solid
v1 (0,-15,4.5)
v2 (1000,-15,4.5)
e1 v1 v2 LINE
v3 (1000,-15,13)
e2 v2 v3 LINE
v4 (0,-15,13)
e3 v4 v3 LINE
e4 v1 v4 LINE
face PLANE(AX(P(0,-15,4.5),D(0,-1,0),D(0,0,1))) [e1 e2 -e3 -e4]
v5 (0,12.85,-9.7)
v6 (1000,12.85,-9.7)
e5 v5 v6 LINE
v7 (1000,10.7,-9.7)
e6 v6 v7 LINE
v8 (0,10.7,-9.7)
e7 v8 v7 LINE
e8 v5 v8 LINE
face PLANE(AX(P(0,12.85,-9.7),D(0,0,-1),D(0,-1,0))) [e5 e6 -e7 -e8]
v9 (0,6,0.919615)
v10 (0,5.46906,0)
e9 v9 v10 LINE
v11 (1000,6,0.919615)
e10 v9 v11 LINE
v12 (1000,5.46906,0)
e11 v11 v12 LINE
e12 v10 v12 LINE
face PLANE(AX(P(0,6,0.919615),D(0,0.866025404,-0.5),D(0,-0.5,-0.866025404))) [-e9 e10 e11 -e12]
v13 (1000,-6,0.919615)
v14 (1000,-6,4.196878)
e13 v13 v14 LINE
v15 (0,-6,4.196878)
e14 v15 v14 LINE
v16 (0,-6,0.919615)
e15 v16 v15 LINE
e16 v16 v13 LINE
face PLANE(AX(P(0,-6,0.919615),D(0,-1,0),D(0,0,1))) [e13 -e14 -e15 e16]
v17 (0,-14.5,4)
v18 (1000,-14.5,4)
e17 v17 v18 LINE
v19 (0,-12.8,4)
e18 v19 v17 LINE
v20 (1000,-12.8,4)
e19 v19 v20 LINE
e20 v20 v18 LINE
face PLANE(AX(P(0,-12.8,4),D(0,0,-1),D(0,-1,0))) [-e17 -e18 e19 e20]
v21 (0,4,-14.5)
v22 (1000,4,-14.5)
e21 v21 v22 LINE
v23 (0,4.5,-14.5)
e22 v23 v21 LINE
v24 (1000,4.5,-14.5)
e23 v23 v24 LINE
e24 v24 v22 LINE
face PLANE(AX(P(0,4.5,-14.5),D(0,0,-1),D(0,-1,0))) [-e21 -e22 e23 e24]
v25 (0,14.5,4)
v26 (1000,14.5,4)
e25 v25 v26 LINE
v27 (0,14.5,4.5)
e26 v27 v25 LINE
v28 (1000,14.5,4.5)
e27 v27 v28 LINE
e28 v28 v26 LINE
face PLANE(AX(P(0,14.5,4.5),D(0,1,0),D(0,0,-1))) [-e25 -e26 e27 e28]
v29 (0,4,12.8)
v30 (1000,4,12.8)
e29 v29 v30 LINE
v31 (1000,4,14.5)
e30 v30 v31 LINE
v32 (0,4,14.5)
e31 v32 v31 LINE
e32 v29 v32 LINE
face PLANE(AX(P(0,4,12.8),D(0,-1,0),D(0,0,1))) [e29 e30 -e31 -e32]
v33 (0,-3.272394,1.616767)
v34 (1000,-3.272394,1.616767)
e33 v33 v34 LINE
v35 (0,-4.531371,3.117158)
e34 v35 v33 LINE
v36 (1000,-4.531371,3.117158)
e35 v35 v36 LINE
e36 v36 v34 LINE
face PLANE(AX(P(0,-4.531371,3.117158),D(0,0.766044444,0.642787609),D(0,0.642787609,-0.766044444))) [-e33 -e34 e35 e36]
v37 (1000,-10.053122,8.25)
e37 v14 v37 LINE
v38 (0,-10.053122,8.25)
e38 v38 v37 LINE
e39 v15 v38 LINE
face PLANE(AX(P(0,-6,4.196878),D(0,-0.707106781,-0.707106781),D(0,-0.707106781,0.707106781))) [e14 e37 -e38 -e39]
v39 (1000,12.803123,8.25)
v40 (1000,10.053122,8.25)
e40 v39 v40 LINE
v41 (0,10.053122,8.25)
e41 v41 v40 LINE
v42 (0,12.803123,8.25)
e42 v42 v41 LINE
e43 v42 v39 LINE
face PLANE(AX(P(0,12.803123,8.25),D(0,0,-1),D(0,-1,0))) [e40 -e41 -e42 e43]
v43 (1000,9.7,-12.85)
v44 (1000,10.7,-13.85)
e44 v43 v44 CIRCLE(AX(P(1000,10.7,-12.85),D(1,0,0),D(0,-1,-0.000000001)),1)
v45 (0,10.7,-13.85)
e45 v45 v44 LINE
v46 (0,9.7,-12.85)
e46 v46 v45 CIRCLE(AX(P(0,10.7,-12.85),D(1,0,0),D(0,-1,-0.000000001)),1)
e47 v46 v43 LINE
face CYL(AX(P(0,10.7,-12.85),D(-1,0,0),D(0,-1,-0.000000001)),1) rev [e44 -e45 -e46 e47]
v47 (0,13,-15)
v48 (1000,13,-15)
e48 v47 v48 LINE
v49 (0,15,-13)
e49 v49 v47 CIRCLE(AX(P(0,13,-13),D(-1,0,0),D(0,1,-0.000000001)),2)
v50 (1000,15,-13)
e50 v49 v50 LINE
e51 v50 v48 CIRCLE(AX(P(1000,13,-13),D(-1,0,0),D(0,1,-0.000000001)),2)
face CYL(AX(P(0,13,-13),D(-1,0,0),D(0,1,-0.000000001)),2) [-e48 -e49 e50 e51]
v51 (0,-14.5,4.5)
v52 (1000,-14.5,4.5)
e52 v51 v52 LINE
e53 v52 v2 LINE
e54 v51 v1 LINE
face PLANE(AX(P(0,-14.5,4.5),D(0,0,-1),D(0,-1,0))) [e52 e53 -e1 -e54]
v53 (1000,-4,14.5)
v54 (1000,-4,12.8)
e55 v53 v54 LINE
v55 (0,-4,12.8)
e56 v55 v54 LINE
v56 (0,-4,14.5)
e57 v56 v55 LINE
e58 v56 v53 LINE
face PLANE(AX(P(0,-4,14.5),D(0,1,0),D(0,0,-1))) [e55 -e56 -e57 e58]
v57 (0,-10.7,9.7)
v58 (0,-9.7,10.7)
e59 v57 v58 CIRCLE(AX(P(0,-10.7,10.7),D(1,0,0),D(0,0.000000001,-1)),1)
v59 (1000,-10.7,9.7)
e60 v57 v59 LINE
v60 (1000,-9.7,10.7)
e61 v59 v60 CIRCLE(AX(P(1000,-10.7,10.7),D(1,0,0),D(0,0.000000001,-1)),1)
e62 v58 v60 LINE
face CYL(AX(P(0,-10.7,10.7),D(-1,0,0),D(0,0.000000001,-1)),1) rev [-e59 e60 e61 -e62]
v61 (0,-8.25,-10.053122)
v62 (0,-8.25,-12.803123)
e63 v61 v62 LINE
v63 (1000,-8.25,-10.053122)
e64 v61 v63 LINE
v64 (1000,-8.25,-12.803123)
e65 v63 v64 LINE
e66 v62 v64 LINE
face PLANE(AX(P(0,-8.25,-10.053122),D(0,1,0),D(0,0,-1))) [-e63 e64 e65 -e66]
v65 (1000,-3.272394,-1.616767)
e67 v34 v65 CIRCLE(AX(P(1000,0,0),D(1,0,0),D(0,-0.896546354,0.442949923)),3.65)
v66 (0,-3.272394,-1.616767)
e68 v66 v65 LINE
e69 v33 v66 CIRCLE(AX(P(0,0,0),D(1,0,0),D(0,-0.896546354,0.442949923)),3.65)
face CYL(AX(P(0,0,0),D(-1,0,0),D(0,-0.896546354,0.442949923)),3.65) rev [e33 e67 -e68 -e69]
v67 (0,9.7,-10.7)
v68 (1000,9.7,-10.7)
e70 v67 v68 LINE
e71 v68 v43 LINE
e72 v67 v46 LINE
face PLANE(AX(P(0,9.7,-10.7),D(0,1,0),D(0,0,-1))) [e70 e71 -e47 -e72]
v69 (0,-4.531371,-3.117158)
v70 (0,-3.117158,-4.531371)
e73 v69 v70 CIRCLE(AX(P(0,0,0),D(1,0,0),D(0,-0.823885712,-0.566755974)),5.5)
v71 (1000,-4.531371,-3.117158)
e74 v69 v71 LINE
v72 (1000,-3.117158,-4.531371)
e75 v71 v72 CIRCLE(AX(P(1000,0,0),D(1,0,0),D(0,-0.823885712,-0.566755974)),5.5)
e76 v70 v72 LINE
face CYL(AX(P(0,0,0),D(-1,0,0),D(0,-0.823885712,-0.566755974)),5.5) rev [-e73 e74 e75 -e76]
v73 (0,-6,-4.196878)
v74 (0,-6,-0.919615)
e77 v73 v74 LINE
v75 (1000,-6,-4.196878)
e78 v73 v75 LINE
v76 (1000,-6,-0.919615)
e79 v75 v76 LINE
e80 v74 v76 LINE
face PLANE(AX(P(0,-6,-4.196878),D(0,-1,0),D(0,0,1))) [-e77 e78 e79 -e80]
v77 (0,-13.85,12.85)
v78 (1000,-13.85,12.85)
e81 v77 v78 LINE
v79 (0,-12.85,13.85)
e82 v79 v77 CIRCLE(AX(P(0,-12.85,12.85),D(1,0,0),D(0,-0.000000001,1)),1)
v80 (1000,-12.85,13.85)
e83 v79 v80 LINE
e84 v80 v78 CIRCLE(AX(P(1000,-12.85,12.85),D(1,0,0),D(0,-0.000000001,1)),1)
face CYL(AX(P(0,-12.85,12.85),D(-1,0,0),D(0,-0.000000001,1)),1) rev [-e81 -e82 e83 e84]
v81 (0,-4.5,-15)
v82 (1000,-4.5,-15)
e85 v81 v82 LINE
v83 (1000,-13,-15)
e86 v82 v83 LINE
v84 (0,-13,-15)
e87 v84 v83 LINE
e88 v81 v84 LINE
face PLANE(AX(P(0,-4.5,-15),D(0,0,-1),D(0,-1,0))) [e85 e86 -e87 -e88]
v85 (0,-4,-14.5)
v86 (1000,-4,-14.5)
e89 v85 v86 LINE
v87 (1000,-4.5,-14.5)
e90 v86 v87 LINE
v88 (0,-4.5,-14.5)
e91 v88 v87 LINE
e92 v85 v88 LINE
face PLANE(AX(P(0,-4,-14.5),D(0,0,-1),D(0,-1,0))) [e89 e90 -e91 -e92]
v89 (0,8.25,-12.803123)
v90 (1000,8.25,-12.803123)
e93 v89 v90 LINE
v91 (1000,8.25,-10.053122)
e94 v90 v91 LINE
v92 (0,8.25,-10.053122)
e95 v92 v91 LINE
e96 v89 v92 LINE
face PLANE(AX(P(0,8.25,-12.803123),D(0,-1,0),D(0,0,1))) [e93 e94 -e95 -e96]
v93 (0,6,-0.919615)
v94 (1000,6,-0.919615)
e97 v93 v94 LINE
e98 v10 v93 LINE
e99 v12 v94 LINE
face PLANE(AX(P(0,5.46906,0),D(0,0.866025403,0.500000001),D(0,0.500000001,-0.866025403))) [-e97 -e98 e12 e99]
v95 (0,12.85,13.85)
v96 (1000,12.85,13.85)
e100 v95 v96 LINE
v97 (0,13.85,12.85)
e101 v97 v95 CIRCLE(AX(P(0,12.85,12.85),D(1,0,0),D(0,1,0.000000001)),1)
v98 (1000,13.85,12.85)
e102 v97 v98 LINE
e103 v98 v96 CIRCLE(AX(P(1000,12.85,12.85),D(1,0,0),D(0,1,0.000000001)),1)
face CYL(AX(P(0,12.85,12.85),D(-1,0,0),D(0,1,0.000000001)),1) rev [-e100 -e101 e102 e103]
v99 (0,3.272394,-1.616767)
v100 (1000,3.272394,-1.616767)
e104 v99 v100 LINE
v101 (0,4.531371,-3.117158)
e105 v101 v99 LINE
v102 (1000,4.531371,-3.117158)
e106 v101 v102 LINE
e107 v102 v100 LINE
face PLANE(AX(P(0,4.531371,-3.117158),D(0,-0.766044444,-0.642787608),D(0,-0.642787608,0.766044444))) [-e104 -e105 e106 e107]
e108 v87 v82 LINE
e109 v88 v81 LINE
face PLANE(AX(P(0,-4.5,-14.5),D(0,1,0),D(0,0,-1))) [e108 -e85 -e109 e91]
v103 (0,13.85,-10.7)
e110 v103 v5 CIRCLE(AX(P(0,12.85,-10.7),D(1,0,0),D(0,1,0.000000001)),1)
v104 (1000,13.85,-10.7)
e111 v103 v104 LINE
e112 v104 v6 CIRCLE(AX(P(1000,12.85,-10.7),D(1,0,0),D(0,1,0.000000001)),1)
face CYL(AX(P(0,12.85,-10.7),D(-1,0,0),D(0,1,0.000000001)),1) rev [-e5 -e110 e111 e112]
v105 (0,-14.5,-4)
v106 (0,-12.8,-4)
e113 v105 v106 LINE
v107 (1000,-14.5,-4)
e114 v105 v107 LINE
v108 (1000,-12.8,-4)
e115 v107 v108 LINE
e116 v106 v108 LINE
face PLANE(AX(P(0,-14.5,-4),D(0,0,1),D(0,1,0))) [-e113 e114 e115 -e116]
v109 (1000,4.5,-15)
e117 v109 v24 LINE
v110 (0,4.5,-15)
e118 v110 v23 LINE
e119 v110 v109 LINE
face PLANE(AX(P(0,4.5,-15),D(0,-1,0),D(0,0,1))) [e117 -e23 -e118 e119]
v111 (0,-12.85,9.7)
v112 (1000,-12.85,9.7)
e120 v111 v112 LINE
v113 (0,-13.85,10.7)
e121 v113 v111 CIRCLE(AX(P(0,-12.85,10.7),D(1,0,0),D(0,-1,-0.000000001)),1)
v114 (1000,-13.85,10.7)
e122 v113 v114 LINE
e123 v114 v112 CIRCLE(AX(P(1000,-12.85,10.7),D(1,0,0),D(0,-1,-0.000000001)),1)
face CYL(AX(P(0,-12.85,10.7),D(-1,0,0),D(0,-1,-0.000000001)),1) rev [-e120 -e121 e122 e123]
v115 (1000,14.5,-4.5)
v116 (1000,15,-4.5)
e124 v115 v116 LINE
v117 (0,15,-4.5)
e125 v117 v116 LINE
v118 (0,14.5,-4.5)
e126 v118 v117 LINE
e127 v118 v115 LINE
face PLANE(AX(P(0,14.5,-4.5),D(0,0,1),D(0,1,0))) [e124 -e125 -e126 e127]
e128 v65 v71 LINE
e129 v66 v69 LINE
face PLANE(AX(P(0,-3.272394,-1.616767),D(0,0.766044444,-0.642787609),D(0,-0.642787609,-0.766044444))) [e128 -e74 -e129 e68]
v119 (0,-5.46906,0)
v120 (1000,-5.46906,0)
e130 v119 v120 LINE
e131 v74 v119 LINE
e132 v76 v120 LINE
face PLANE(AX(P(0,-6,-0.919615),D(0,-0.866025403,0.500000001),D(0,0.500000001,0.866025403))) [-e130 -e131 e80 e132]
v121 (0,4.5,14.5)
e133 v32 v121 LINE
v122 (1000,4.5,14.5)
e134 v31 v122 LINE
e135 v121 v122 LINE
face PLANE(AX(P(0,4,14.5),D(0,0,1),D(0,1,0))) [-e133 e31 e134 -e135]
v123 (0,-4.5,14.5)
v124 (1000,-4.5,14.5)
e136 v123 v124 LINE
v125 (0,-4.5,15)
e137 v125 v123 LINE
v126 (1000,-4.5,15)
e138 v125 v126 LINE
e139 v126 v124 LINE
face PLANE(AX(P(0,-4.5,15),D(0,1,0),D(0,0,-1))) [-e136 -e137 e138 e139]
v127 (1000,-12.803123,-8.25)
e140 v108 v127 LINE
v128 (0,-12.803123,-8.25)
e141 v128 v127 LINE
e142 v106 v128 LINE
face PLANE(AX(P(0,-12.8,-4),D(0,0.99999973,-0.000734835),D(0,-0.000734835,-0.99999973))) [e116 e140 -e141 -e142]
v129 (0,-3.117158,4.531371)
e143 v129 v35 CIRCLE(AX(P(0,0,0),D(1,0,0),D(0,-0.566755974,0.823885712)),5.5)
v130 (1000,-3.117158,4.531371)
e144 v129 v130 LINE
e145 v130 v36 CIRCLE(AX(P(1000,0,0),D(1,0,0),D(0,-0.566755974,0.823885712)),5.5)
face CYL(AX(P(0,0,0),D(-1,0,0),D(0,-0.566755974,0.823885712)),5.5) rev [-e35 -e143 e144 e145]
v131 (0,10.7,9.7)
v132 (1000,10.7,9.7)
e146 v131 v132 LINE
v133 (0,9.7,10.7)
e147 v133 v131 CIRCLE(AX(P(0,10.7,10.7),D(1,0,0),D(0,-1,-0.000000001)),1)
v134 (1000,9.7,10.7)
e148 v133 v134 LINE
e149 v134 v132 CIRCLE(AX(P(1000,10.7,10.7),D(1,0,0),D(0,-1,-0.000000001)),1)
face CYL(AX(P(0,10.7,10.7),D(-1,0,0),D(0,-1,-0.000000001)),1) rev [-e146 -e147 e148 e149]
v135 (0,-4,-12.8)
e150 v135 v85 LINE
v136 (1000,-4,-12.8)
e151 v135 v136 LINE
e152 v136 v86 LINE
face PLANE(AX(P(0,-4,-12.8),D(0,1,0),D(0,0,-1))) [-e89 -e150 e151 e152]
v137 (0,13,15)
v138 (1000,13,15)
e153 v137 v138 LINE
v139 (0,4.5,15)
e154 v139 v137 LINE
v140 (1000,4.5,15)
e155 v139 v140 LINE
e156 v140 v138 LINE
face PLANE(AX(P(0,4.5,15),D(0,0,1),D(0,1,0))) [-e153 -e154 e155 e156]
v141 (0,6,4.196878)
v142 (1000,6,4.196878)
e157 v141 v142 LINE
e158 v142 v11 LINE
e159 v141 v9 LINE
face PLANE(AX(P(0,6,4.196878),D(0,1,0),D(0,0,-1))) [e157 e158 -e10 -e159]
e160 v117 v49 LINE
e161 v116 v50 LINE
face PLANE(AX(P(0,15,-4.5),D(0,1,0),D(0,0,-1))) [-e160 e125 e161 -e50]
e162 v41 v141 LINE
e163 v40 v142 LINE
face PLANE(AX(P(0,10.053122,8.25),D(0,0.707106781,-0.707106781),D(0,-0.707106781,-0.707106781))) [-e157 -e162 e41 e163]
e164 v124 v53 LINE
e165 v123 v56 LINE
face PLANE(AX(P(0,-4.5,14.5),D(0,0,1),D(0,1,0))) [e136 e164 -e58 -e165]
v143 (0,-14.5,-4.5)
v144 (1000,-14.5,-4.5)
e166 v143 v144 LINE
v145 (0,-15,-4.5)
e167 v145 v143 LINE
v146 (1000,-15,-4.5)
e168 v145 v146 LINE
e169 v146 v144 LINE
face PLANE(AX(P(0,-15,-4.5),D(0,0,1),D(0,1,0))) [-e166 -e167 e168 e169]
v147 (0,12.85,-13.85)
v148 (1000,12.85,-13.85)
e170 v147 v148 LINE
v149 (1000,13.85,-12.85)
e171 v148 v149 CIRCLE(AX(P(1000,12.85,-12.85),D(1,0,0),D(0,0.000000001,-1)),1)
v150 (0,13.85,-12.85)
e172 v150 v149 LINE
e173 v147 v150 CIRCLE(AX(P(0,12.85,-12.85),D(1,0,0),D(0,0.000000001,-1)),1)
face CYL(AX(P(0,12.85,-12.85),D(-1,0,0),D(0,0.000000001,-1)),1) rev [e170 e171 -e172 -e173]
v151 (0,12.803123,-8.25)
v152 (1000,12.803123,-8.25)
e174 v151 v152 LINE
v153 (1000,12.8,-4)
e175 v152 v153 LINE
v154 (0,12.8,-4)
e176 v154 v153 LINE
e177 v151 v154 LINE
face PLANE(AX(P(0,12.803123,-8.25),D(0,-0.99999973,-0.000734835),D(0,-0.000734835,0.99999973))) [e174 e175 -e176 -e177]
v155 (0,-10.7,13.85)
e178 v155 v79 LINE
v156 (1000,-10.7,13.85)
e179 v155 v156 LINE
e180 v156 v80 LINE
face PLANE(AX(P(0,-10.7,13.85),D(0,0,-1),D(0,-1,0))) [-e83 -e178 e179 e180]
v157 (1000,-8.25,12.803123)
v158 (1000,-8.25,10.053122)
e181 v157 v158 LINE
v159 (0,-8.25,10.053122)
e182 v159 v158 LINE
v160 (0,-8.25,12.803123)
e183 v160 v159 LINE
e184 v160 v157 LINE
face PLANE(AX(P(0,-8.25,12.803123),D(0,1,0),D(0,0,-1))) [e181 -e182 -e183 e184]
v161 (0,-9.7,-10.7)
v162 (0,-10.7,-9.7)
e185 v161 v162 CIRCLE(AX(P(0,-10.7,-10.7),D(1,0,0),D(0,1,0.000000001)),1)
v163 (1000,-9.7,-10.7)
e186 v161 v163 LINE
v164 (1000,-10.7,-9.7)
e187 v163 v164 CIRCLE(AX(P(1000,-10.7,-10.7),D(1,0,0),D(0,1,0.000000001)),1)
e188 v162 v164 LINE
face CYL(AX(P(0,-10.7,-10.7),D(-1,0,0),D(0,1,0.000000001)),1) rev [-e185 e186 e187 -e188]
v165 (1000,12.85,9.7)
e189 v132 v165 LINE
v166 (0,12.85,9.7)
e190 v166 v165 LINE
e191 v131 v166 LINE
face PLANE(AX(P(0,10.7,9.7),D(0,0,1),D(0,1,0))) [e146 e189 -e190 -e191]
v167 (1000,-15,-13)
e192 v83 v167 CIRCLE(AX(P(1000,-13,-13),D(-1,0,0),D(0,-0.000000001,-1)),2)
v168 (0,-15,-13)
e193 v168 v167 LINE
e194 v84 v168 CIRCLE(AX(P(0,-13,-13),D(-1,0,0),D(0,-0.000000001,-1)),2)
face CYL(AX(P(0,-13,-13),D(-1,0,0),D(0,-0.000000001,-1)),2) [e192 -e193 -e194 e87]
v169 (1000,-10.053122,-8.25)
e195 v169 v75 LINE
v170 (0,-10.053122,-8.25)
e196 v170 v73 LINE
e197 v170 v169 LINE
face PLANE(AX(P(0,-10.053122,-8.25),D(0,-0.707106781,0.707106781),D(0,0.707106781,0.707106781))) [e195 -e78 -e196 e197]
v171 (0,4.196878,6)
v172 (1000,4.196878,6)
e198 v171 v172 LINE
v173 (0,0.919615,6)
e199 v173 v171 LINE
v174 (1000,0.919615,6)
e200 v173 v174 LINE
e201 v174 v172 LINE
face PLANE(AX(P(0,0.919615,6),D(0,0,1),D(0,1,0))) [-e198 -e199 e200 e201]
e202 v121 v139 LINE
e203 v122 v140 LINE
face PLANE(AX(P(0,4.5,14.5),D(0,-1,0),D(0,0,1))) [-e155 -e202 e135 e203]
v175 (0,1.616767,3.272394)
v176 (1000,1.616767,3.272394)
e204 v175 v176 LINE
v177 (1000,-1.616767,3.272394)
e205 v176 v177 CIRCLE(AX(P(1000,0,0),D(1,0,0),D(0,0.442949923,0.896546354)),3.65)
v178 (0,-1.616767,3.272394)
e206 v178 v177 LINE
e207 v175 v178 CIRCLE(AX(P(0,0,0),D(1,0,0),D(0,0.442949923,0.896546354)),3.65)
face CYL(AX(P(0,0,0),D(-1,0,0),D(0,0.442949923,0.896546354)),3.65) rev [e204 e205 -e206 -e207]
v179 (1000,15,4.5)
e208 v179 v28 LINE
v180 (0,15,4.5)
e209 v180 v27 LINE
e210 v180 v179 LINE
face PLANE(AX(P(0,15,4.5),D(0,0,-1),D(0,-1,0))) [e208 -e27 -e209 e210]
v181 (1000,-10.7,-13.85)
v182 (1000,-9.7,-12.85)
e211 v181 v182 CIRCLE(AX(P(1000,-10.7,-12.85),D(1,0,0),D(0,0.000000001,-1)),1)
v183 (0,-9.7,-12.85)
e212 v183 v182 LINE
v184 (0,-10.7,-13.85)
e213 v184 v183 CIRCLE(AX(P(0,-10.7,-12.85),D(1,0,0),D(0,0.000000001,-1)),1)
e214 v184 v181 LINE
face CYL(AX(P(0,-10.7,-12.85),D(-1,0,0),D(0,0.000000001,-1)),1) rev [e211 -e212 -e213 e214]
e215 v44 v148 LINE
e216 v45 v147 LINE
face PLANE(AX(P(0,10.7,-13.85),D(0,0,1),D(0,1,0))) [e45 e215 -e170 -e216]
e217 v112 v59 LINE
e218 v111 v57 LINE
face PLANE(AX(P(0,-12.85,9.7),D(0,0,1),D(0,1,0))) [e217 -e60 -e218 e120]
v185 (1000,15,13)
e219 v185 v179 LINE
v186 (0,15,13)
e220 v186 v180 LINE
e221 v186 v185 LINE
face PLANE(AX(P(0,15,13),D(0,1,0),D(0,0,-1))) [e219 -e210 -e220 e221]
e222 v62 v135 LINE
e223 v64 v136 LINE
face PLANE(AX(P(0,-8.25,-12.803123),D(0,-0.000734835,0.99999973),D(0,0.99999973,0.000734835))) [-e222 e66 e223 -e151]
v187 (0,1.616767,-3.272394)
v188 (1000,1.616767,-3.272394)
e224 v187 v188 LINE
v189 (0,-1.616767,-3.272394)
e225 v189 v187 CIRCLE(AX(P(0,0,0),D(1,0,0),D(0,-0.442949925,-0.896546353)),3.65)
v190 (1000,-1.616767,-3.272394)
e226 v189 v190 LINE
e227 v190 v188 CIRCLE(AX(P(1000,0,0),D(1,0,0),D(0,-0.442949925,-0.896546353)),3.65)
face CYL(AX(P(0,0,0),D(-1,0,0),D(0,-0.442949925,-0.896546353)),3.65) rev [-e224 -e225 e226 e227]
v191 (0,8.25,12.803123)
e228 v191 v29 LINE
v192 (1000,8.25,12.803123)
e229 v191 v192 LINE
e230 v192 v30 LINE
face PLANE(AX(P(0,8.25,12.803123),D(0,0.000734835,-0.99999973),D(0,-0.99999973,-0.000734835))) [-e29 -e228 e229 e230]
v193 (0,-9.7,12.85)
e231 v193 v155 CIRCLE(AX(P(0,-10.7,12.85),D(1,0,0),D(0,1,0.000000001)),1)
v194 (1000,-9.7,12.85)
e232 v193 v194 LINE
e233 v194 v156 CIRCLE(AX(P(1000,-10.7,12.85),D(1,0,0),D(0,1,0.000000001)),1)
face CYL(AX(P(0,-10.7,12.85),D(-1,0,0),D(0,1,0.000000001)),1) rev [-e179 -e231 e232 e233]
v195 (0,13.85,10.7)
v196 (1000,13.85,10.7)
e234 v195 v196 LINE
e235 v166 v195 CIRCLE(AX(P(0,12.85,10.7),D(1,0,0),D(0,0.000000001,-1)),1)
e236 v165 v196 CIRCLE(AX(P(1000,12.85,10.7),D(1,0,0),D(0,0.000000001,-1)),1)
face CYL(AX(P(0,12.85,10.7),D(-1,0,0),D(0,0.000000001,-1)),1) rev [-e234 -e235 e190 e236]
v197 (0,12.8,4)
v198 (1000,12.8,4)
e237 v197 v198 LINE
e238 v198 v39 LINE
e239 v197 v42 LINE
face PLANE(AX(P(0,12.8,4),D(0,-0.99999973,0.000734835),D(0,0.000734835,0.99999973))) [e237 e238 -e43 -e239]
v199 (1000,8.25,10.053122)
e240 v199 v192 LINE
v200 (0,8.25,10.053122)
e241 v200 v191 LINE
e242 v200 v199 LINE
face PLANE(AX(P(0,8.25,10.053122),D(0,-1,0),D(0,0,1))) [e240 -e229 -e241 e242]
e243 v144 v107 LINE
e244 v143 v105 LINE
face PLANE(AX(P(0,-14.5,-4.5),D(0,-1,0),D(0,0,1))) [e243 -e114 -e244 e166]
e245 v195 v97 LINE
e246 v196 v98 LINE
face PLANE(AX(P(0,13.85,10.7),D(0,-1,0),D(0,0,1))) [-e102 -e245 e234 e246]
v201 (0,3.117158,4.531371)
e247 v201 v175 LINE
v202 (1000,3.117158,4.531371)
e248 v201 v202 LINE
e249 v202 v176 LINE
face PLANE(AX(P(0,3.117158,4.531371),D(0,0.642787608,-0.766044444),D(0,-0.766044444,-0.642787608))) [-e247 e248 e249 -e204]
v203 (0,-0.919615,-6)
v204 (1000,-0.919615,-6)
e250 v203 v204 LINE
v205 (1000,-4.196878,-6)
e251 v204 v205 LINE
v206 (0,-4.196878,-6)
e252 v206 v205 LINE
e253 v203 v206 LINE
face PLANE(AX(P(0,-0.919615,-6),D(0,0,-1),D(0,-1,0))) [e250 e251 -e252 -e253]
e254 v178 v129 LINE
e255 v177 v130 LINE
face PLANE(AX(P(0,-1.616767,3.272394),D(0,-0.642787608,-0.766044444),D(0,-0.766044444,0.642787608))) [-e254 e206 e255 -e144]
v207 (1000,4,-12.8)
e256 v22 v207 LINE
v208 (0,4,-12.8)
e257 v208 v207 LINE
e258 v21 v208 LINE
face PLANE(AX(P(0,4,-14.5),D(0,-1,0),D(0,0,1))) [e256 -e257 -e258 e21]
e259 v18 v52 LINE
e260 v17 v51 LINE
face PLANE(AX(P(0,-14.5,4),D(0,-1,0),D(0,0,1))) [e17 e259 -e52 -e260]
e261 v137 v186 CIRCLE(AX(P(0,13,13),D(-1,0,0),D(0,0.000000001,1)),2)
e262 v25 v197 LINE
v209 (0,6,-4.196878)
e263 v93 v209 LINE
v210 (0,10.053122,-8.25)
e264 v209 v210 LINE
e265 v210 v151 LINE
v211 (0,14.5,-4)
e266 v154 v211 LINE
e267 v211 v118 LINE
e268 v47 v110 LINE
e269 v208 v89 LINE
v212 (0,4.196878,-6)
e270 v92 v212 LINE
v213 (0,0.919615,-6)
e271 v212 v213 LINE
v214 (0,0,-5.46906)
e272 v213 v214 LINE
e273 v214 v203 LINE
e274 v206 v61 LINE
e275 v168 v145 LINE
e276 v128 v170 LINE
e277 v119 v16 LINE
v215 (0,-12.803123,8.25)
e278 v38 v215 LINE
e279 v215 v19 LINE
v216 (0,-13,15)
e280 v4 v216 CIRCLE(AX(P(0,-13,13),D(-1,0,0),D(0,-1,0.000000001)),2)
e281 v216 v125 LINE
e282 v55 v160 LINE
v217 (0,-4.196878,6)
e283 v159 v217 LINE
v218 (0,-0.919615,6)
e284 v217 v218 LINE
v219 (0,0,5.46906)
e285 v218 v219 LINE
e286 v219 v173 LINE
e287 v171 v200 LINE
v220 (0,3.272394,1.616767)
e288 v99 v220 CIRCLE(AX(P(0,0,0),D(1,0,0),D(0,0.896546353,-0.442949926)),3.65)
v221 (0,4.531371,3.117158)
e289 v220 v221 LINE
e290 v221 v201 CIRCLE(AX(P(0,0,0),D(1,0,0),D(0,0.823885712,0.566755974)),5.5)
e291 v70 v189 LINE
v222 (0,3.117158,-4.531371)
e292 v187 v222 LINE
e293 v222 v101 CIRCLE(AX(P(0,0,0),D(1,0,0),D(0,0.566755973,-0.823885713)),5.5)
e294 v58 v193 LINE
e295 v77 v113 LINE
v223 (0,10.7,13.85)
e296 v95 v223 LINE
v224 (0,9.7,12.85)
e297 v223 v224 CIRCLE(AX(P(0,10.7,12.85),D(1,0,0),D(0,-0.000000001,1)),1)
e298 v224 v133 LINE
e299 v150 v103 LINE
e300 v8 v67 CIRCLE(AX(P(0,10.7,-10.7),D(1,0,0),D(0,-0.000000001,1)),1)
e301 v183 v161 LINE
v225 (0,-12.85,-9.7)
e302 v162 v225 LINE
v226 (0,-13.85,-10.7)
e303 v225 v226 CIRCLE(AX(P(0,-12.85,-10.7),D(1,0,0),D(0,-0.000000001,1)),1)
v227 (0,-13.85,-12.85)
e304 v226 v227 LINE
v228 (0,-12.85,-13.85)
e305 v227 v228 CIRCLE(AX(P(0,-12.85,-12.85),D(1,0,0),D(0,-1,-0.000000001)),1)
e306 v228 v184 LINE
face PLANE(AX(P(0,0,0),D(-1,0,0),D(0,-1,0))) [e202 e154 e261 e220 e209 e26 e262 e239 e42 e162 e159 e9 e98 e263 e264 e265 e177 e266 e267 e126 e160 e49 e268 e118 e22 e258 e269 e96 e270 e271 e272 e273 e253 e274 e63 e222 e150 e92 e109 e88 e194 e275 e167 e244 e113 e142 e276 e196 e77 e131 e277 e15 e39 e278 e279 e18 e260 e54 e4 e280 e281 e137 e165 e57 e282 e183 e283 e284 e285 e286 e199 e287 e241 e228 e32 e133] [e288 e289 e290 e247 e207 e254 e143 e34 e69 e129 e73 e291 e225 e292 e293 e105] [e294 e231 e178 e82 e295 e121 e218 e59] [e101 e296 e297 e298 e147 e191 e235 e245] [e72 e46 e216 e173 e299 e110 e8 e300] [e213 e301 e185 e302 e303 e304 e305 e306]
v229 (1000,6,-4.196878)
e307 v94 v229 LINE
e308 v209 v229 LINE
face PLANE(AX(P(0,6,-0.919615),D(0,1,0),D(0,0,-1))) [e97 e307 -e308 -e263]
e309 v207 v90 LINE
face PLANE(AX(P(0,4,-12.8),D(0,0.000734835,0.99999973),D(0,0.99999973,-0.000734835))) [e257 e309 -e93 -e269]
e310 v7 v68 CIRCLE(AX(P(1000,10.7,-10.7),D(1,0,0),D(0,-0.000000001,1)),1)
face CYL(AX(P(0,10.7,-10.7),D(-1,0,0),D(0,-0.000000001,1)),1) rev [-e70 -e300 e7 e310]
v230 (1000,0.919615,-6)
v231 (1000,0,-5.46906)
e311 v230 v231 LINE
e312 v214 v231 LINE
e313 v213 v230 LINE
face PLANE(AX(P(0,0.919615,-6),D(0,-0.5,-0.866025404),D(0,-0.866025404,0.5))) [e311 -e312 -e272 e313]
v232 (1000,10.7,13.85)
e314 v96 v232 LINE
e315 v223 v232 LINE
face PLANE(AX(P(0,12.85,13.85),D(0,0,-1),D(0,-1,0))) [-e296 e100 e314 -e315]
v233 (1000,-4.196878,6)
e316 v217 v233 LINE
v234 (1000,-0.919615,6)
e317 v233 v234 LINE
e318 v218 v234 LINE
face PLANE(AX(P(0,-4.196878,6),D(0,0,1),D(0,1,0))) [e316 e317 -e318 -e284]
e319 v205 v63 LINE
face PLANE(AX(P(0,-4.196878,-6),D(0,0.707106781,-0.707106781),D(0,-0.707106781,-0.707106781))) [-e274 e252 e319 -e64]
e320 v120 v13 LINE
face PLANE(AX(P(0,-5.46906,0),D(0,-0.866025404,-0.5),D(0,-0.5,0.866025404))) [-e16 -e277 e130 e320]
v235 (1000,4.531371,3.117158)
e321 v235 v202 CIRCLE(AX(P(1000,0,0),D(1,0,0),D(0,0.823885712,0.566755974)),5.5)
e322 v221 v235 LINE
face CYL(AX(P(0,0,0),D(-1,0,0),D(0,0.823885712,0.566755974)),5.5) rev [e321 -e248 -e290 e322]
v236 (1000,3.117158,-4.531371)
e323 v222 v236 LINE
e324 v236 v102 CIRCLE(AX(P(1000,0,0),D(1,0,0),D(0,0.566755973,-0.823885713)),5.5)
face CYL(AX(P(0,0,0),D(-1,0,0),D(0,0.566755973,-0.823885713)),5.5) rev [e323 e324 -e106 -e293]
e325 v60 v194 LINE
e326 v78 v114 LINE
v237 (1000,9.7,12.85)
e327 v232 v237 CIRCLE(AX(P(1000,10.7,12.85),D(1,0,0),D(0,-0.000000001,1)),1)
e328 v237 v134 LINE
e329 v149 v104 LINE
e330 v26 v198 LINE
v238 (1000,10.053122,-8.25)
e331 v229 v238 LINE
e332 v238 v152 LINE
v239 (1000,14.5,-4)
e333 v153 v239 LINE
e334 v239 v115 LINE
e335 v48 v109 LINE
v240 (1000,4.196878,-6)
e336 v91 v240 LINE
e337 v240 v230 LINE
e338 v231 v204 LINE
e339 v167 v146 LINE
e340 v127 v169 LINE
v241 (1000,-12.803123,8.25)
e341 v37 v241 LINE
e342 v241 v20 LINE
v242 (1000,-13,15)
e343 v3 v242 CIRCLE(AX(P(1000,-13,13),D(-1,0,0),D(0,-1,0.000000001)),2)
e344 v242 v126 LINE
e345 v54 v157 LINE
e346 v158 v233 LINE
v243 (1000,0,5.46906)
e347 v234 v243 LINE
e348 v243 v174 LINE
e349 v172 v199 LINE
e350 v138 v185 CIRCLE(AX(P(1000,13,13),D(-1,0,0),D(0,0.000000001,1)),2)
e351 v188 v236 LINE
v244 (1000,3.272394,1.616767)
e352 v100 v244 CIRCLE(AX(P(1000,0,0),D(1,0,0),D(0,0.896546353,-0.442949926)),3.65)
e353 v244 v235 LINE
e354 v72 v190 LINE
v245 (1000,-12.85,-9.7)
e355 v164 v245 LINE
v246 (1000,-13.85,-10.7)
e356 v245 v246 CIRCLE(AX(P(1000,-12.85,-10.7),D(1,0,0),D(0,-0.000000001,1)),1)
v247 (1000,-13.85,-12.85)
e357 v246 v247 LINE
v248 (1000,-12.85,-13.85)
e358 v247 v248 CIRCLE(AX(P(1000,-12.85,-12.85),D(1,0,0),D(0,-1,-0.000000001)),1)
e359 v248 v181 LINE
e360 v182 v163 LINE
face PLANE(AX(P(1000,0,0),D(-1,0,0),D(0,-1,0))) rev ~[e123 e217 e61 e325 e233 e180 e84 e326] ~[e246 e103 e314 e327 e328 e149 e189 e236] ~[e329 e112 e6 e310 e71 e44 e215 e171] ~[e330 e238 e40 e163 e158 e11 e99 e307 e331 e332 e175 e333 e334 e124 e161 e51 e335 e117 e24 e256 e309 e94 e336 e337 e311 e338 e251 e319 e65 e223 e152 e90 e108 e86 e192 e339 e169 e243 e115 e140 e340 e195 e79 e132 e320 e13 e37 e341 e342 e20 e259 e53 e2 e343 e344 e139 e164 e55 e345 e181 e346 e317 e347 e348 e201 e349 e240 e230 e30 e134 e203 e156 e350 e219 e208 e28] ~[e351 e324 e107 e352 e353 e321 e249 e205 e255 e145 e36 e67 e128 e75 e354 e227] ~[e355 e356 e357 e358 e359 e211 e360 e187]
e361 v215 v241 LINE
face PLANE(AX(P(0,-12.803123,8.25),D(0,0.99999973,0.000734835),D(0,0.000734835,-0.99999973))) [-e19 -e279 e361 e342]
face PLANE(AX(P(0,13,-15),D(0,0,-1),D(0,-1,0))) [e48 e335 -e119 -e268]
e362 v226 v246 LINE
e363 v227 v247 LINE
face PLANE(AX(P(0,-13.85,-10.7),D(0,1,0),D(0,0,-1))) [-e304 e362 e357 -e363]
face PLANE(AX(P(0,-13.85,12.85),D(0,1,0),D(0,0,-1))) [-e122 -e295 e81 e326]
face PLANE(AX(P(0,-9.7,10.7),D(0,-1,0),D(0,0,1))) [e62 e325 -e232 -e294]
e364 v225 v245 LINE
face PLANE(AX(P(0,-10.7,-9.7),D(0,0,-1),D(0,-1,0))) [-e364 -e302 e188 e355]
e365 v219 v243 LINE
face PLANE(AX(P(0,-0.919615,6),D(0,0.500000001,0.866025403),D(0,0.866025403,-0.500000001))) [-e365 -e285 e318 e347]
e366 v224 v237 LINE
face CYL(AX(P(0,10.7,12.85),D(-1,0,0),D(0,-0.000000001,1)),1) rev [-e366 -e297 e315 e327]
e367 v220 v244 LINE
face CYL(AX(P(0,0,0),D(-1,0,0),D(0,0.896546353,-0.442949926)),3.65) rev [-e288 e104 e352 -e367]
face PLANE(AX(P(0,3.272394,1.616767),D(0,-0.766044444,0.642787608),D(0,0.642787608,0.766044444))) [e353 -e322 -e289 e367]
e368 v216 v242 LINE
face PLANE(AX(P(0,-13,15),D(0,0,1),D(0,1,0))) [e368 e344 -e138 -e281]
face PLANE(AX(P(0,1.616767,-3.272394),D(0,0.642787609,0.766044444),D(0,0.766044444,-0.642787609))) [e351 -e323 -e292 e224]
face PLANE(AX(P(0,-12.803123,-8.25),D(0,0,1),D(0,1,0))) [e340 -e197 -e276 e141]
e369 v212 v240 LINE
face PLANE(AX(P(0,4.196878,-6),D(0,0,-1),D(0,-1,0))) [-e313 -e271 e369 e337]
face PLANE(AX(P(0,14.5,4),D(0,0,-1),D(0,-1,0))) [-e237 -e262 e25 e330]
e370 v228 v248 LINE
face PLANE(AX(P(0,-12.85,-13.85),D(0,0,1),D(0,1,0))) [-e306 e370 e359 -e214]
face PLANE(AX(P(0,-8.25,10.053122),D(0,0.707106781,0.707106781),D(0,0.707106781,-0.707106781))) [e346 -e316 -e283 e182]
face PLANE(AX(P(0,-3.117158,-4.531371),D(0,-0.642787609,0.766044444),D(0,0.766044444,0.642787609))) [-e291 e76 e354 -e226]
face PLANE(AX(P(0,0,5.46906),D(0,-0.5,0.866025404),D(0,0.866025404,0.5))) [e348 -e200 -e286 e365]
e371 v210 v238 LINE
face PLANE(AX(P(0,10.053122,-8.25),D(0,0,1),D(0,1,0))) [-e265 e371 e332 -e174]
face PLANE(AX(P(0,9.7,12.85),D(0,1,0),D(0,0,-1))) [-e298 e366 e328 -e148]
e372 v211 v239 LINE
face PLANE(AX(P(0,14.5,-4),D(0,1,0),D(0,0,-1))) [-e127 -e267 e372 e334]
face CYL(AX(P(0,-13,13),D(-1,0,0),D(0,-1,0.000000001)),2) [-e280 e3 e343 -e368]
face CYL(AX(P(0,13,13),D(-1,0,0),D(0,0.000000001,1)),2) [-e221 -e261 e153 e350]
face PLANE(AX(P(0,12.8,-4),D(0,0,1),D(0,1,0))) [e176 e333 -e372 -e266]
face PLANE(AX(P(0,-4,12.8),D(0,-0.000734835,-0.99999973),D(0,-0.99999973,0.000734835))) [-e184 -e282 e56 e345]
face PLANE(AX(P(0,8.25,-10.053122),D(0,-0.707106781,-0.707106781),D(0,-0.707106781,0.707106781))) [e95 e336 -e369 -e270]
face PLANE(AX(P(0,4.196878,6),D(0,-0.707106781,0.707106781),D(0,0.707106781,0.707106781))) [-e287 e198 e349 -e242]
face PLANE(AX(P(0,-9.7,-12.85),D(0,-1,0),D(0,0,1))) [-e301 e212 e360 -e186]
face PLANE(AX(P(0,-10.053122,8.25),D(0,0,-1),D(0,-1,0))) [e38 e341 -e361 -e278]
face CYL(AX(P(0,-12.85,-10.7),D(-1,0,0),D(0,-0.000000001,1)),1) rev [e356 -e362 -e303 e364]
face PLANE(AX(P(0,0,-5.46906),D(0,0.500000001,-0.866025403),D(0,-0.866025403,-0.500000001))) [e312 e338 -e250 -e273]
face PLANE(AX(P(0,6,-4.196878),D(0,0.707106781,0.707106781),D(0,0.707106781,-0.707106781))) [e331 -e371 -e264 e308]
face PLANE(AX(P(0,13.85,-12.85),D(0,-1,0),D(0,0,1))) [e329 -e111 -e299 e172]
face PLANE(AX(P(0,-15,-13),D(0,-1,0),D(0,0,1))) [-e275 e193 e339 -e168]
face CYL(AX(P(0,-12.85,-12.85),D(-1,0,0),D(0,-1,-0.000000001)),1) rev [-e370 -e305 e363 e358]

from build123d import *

# Parameters (mm, degrees)
ESTRUSIONE_ESTRUSIONE1_DEPTH = 1000


with BuildPart() as part:
    # Schizzo1 → Estrusione-Estrusione1 (new body)
    with BuildSketch(Plane(origin=(0, 0, 0), x_dir=(0, -1, 0), z_dir=(-1, 0, 0))):
        with BuildLine():
            Line((-10.05312229, 8.25), (-6, 4.19687771))
            Line((-6, 4.19687771), (-6, 0.91961524))
            Line((-6, 0.91961524), (-5.469059893, -2e-09))
            Line((-5.469059893, -2e-09), (-6, -0.91961524))
            Line((-6, -0.91961524), (-6, -4.19687771))
            Line((-6, -4.19687771), (-10.05312229, -8.25))
            Line((-10.05312229, -8.25), (-12.80312305, -8.25))
            Line((-12.80312305, -8.25), (-12.8, -4))
            Line((-12.8, -4), (-14.5, -4))
            Line((-14.5, -4), (-14.5, -4.5))
            Line((-14.5, -4.5), (-15, -4.5))
            Line((-15, -4.5), (-15, -13))
            ThreePointArc((-15, -13), (-14.414213562, -14.414213562), (-13, -15))
            Line((-13, -15), (-4.5, -15))
            Line((-4.5, -15), (-4.5, -14.5))
            Line((-4.5, -14.5), (-4, -14.5))
            Line((-4, -14.5), (-4, -12.8))
            Line((-4, -12.8), (-8.25, -12.80312305))
            Line((-8.25, -12.80312305), (-8.25, -10.05312229))
            Line((-8.25, -10.05312229), (-4.19687771, -6))
            Line((-4.19687771, -6), (-0.91961524, -6))
            Line((-0.91961524, -6), (2e-09, -5.469059893))
            Line((2e-09, -5.469059893), (0.91961524, -6))
            Line((0.91961524, -6), (4.19687771, -6))
            Line((4.19687771, -6), (8.25, -10.05312229))
            Line((8.25, -10.05312229), (8.25, -12.80312305))
            Line((8.25, -12.80312305), (4, -12.8))
            Line((4, -12.8), (4, -14.5))
            Line((4, -14.5), (4.5, -14.5))
            Line((4.5, -14.5), (4.5, -15))
            Line((4.5, -15), (13, -15))
            ThreePointArc((13, -15), (14.414213562, -14.414213562), (15, -13))
            Line((15, -13), (15, -4.5))
            Line((15, -4.5), (14.5, -4.5))
            Line((14.5, -4.5), (14.5, -4))
            Line((14.5, -4), (12.8, -4))
            Line((12.8, -4), (12.80312305, -8.25))
            Line((12.80312305, -8.25), (10.05312229, -8.25))
            Line((10.05312229, -8.25), (6, -4.19687771))
            Line((6, -4.19687771), (6, -0.91961524))
            Line((6, -0.91961524), (5.469059893, -2e-09))
            Line((5.469059893, -2e-09), (6, 0.91961524))
            Line((6, 0.91961524), (6, 4.19687771))
            Line((6, 4.19687771), (10.05312229, 8.25))
            Line((10.05312229, 8.25), (12.80312305, 8.25))
            Line((12.80312305, 8.25), (12.8, 4))
            Line((12.8, 4), (14.5, 4))
            Line((14.5, 4), (14.5, 4.5))
            Line((14.5, 4.5), (15, 4.5))
            Line((15, 4.5), (15, 13))
            ThreePointArc((15, 13), (14.414213562, 14.414213562), (13, 15))
            Line((13, 15), (4.5, 15))
            Line((4.5, 15), (4.5, 14.5))
            Line((4.5, 14.5), (4, 14.5))
            Line((4, 14.5), (4, 12.8))
            Line((4, 12.8), (8.25, 12.80312305))
            Line((8.25, 12.80312305), (8.25, 10.05312229))
            Line((8.25, 10.05312229), (4.19687771, 6))
            Line((4.19687771, 6), (0.91961524, 6))
            Line((0.91961524, 6), (2e-09, 5.469059893))
            Line((2e-09, 5.469059893), (-0.91961524, 6))
            Line((-0.91961524, 6), (-4.19687771, 6))
            Line((-4.19687771, 6), (-8.25, 10.05312229))
            Line((-8.25, 10.05312229), (-8.25, 12.80312305))
            Line((-8.25, 12.80312305), (-4, 12.8))
            Line((-4, 12.8), (-4, 14.5))
            Line((-4, 14.5), (-4.5, 14.5))
            Line((-4.5, 14.5), (-4.5, 15))
            Line((-4.5, 15), (-13, 15))
            ThreePointArc((-13, 15), (-14.414213562, 14.414213562), (-15, 13))
            Line((-15, 13), (-15, 4.5))
            Line((-15, 4.5), (-14.5, 4.5))
            Line((-14.5, 4.5), (-14.5, 4))
            Line((-14.5, 4), (-12.8, 4))
            Line((-12.8, 4), (-12.80312305, 8.25))
            Line((-12.80312305, 8.25), (-10.05312229, 8.25))
        make_face()
        with BuildLine():
            Line((-3.117157854, 4.531371416), (-1.616767222, 3.272394195))
            ThreePointArc((-1.616767222, 3.272394195), (5e-09, 3.650000002), (1.616767231, 3.272394191))
            Line((1.616767231, 3.272394191), (3.117157862, 4.531371411))
            ThreePointArc((3.117157862, 4.531371411), (3.889087302, 3.889087292), (4.53137142, 3.11715785))
            Line((4.53137142, 3.11715785), (3.272394197, 1.616767219))
            ThreePointArc((3.272394197, 1.616767219), (3.650000003, -4e-09), (3.272394193, -1.616767225))
            Line((3.272394193, -1.616767225), (4.531371415, -3.117157856))
            ThreePointArc((4.531371415, -3.117157856), (3.889087297, -3.889087296), (3.117157857, -4.531371414))
            Line((3.117157857, -4.531371414), (1.616767227, -3.272394192))
            ThreePointArc((1.616767227, -3.272394192), (5e-09, -3.650000002), (-1.616767217, -3.272394197))
            Line((-1.616767217, -3.272394197), (-3.117157849, -4.531371419))
            ThreePointArc((-3.117157849, -4.531371419), (-3.889087291, -3.889087301), (-4.531371411, -3.117157861))
            Line((-4.531371411, -3.117157861), (-3.27239419, -1.61676723))
            ThreePointArc((-3.27239419, -1.61676723), (-3.650000002, -5e-09), (-3.272394194, 1.616767222))
            Line((-3.272394194, 1.616767222), (-4.531371416, 3.117157855))
            ThreePointArc((-4.531371416, 3.117157855), (-3.889087296, 3.889087297), (-3.117157854, 4.531371416))
        make_face(mode=Mode.SUBTRACT)
        with BuildLine():
            Line((12.85, 9.7), (10.7, 9.7))
            ThreePointArc((10.7, 9.7), (9.992893219, 9.992893219), (9.7, 10.7))
            Line((9.7, 10.7), (9.7, 12.85))
            ThreePointArc((9.7, 12.85), (9.992893219, 13.557106781), (10.7, 13.85))
            Line((10.7, 13.85), (12.85, 13.85))
            ThreePointArc((12.85, 13.85), (13.557106781, 13.557106781), (13.85, 12.85))
            Line((13.85, 12.85), (13.85, 10.7))
            ThreePointArc((13.85, 10.7), (13.557106781, 9.992893219), (12.85, 9.7))
        make_face(mode=Mode.SUBTRACT)
        with BuildLine():
            Line((-9.7, 12.85), (-9.7, 10.7))
            ThreePointArc((-9.7, 10.7), (-9.992893219, 9.992893219), (-10.7, 9.7))
            Line((-10.7, 9.7), (-12.85, 9.7))
            ThreePointArc((-12.85, 9.7), (-13.557106781, 9.992893219), (-13.85, 10.7))
            Line((-13.85, 10.7), (-13.85, 12.85))
            ThreePointArc((-13.85, 12.85), (-13.557106781, 13.557106781), (-12.85, 13.85))
            Line((-12.85, 13.85), (-10.7, 13.85))
            ThreePointArc((-10.7, 13.85), (-9.992893219, 13.557106781), (-9.7, 12.85))
        make_face(mode=Mode.SUBTRACT)
        with BuildLine():
            Line((-12.85, -9.7), (-10.7, -9.7))
            ThreePointArc((-10.7, -9.7), (-9.992893219, -9.992893219), (-9.7, -10.7))
            Line((-9.7, -10.7), (-9.7, -12.85))
            ThreePointArc((-9.7, -12.85), (-9.992893219, -13.557106781), (-10.7, -13.85))
            Line((-10.7, -13.85), (-12.85, -13.85))
            ThreePointArc((-12.85, -13.85), (-13.557106781, -13.557106781), (-13.85, -12.85))
            Line((-13.85, -12.85), (-13.85, -10.7))
            ThreePointArc((-13.85, -10.7), (-13.557106781, -9.992893219), (-12.85, -9.7))
        make_face(mode=Mode.SUBTRACT)
        with BuildLine():
            Line((9.7, -12.85), (9.7, -10.7))
            ThreePointArc((9.7, -10.7), (9.992893219, -9.992893219), (10.7, -9.7))
            Line((10.7, -9.7), (12.85, -9.7))
            ThreePointArc((12.85, -9.7), (13.557106781, -9.992893219), (13.85, -10.7))
            Line((13.85, -10.7), (13.85, -12.85))
            ThreePointArc((13.85, -12.85), (13.557106781, -13.557106781), (12.85, -13.85))
            Line((12.85, -13.85), (10.7, -13.85))
            ThreePointArc((10.7, -13.85), (9.992893219, -13.557106781), (9.7, -12.85))
        make_face(mode=Mode.SUBTRACT)
    extrude(amount=-ESTRUSIONE_ESTRUSIONE1_DEPTH)


solid = part.part
